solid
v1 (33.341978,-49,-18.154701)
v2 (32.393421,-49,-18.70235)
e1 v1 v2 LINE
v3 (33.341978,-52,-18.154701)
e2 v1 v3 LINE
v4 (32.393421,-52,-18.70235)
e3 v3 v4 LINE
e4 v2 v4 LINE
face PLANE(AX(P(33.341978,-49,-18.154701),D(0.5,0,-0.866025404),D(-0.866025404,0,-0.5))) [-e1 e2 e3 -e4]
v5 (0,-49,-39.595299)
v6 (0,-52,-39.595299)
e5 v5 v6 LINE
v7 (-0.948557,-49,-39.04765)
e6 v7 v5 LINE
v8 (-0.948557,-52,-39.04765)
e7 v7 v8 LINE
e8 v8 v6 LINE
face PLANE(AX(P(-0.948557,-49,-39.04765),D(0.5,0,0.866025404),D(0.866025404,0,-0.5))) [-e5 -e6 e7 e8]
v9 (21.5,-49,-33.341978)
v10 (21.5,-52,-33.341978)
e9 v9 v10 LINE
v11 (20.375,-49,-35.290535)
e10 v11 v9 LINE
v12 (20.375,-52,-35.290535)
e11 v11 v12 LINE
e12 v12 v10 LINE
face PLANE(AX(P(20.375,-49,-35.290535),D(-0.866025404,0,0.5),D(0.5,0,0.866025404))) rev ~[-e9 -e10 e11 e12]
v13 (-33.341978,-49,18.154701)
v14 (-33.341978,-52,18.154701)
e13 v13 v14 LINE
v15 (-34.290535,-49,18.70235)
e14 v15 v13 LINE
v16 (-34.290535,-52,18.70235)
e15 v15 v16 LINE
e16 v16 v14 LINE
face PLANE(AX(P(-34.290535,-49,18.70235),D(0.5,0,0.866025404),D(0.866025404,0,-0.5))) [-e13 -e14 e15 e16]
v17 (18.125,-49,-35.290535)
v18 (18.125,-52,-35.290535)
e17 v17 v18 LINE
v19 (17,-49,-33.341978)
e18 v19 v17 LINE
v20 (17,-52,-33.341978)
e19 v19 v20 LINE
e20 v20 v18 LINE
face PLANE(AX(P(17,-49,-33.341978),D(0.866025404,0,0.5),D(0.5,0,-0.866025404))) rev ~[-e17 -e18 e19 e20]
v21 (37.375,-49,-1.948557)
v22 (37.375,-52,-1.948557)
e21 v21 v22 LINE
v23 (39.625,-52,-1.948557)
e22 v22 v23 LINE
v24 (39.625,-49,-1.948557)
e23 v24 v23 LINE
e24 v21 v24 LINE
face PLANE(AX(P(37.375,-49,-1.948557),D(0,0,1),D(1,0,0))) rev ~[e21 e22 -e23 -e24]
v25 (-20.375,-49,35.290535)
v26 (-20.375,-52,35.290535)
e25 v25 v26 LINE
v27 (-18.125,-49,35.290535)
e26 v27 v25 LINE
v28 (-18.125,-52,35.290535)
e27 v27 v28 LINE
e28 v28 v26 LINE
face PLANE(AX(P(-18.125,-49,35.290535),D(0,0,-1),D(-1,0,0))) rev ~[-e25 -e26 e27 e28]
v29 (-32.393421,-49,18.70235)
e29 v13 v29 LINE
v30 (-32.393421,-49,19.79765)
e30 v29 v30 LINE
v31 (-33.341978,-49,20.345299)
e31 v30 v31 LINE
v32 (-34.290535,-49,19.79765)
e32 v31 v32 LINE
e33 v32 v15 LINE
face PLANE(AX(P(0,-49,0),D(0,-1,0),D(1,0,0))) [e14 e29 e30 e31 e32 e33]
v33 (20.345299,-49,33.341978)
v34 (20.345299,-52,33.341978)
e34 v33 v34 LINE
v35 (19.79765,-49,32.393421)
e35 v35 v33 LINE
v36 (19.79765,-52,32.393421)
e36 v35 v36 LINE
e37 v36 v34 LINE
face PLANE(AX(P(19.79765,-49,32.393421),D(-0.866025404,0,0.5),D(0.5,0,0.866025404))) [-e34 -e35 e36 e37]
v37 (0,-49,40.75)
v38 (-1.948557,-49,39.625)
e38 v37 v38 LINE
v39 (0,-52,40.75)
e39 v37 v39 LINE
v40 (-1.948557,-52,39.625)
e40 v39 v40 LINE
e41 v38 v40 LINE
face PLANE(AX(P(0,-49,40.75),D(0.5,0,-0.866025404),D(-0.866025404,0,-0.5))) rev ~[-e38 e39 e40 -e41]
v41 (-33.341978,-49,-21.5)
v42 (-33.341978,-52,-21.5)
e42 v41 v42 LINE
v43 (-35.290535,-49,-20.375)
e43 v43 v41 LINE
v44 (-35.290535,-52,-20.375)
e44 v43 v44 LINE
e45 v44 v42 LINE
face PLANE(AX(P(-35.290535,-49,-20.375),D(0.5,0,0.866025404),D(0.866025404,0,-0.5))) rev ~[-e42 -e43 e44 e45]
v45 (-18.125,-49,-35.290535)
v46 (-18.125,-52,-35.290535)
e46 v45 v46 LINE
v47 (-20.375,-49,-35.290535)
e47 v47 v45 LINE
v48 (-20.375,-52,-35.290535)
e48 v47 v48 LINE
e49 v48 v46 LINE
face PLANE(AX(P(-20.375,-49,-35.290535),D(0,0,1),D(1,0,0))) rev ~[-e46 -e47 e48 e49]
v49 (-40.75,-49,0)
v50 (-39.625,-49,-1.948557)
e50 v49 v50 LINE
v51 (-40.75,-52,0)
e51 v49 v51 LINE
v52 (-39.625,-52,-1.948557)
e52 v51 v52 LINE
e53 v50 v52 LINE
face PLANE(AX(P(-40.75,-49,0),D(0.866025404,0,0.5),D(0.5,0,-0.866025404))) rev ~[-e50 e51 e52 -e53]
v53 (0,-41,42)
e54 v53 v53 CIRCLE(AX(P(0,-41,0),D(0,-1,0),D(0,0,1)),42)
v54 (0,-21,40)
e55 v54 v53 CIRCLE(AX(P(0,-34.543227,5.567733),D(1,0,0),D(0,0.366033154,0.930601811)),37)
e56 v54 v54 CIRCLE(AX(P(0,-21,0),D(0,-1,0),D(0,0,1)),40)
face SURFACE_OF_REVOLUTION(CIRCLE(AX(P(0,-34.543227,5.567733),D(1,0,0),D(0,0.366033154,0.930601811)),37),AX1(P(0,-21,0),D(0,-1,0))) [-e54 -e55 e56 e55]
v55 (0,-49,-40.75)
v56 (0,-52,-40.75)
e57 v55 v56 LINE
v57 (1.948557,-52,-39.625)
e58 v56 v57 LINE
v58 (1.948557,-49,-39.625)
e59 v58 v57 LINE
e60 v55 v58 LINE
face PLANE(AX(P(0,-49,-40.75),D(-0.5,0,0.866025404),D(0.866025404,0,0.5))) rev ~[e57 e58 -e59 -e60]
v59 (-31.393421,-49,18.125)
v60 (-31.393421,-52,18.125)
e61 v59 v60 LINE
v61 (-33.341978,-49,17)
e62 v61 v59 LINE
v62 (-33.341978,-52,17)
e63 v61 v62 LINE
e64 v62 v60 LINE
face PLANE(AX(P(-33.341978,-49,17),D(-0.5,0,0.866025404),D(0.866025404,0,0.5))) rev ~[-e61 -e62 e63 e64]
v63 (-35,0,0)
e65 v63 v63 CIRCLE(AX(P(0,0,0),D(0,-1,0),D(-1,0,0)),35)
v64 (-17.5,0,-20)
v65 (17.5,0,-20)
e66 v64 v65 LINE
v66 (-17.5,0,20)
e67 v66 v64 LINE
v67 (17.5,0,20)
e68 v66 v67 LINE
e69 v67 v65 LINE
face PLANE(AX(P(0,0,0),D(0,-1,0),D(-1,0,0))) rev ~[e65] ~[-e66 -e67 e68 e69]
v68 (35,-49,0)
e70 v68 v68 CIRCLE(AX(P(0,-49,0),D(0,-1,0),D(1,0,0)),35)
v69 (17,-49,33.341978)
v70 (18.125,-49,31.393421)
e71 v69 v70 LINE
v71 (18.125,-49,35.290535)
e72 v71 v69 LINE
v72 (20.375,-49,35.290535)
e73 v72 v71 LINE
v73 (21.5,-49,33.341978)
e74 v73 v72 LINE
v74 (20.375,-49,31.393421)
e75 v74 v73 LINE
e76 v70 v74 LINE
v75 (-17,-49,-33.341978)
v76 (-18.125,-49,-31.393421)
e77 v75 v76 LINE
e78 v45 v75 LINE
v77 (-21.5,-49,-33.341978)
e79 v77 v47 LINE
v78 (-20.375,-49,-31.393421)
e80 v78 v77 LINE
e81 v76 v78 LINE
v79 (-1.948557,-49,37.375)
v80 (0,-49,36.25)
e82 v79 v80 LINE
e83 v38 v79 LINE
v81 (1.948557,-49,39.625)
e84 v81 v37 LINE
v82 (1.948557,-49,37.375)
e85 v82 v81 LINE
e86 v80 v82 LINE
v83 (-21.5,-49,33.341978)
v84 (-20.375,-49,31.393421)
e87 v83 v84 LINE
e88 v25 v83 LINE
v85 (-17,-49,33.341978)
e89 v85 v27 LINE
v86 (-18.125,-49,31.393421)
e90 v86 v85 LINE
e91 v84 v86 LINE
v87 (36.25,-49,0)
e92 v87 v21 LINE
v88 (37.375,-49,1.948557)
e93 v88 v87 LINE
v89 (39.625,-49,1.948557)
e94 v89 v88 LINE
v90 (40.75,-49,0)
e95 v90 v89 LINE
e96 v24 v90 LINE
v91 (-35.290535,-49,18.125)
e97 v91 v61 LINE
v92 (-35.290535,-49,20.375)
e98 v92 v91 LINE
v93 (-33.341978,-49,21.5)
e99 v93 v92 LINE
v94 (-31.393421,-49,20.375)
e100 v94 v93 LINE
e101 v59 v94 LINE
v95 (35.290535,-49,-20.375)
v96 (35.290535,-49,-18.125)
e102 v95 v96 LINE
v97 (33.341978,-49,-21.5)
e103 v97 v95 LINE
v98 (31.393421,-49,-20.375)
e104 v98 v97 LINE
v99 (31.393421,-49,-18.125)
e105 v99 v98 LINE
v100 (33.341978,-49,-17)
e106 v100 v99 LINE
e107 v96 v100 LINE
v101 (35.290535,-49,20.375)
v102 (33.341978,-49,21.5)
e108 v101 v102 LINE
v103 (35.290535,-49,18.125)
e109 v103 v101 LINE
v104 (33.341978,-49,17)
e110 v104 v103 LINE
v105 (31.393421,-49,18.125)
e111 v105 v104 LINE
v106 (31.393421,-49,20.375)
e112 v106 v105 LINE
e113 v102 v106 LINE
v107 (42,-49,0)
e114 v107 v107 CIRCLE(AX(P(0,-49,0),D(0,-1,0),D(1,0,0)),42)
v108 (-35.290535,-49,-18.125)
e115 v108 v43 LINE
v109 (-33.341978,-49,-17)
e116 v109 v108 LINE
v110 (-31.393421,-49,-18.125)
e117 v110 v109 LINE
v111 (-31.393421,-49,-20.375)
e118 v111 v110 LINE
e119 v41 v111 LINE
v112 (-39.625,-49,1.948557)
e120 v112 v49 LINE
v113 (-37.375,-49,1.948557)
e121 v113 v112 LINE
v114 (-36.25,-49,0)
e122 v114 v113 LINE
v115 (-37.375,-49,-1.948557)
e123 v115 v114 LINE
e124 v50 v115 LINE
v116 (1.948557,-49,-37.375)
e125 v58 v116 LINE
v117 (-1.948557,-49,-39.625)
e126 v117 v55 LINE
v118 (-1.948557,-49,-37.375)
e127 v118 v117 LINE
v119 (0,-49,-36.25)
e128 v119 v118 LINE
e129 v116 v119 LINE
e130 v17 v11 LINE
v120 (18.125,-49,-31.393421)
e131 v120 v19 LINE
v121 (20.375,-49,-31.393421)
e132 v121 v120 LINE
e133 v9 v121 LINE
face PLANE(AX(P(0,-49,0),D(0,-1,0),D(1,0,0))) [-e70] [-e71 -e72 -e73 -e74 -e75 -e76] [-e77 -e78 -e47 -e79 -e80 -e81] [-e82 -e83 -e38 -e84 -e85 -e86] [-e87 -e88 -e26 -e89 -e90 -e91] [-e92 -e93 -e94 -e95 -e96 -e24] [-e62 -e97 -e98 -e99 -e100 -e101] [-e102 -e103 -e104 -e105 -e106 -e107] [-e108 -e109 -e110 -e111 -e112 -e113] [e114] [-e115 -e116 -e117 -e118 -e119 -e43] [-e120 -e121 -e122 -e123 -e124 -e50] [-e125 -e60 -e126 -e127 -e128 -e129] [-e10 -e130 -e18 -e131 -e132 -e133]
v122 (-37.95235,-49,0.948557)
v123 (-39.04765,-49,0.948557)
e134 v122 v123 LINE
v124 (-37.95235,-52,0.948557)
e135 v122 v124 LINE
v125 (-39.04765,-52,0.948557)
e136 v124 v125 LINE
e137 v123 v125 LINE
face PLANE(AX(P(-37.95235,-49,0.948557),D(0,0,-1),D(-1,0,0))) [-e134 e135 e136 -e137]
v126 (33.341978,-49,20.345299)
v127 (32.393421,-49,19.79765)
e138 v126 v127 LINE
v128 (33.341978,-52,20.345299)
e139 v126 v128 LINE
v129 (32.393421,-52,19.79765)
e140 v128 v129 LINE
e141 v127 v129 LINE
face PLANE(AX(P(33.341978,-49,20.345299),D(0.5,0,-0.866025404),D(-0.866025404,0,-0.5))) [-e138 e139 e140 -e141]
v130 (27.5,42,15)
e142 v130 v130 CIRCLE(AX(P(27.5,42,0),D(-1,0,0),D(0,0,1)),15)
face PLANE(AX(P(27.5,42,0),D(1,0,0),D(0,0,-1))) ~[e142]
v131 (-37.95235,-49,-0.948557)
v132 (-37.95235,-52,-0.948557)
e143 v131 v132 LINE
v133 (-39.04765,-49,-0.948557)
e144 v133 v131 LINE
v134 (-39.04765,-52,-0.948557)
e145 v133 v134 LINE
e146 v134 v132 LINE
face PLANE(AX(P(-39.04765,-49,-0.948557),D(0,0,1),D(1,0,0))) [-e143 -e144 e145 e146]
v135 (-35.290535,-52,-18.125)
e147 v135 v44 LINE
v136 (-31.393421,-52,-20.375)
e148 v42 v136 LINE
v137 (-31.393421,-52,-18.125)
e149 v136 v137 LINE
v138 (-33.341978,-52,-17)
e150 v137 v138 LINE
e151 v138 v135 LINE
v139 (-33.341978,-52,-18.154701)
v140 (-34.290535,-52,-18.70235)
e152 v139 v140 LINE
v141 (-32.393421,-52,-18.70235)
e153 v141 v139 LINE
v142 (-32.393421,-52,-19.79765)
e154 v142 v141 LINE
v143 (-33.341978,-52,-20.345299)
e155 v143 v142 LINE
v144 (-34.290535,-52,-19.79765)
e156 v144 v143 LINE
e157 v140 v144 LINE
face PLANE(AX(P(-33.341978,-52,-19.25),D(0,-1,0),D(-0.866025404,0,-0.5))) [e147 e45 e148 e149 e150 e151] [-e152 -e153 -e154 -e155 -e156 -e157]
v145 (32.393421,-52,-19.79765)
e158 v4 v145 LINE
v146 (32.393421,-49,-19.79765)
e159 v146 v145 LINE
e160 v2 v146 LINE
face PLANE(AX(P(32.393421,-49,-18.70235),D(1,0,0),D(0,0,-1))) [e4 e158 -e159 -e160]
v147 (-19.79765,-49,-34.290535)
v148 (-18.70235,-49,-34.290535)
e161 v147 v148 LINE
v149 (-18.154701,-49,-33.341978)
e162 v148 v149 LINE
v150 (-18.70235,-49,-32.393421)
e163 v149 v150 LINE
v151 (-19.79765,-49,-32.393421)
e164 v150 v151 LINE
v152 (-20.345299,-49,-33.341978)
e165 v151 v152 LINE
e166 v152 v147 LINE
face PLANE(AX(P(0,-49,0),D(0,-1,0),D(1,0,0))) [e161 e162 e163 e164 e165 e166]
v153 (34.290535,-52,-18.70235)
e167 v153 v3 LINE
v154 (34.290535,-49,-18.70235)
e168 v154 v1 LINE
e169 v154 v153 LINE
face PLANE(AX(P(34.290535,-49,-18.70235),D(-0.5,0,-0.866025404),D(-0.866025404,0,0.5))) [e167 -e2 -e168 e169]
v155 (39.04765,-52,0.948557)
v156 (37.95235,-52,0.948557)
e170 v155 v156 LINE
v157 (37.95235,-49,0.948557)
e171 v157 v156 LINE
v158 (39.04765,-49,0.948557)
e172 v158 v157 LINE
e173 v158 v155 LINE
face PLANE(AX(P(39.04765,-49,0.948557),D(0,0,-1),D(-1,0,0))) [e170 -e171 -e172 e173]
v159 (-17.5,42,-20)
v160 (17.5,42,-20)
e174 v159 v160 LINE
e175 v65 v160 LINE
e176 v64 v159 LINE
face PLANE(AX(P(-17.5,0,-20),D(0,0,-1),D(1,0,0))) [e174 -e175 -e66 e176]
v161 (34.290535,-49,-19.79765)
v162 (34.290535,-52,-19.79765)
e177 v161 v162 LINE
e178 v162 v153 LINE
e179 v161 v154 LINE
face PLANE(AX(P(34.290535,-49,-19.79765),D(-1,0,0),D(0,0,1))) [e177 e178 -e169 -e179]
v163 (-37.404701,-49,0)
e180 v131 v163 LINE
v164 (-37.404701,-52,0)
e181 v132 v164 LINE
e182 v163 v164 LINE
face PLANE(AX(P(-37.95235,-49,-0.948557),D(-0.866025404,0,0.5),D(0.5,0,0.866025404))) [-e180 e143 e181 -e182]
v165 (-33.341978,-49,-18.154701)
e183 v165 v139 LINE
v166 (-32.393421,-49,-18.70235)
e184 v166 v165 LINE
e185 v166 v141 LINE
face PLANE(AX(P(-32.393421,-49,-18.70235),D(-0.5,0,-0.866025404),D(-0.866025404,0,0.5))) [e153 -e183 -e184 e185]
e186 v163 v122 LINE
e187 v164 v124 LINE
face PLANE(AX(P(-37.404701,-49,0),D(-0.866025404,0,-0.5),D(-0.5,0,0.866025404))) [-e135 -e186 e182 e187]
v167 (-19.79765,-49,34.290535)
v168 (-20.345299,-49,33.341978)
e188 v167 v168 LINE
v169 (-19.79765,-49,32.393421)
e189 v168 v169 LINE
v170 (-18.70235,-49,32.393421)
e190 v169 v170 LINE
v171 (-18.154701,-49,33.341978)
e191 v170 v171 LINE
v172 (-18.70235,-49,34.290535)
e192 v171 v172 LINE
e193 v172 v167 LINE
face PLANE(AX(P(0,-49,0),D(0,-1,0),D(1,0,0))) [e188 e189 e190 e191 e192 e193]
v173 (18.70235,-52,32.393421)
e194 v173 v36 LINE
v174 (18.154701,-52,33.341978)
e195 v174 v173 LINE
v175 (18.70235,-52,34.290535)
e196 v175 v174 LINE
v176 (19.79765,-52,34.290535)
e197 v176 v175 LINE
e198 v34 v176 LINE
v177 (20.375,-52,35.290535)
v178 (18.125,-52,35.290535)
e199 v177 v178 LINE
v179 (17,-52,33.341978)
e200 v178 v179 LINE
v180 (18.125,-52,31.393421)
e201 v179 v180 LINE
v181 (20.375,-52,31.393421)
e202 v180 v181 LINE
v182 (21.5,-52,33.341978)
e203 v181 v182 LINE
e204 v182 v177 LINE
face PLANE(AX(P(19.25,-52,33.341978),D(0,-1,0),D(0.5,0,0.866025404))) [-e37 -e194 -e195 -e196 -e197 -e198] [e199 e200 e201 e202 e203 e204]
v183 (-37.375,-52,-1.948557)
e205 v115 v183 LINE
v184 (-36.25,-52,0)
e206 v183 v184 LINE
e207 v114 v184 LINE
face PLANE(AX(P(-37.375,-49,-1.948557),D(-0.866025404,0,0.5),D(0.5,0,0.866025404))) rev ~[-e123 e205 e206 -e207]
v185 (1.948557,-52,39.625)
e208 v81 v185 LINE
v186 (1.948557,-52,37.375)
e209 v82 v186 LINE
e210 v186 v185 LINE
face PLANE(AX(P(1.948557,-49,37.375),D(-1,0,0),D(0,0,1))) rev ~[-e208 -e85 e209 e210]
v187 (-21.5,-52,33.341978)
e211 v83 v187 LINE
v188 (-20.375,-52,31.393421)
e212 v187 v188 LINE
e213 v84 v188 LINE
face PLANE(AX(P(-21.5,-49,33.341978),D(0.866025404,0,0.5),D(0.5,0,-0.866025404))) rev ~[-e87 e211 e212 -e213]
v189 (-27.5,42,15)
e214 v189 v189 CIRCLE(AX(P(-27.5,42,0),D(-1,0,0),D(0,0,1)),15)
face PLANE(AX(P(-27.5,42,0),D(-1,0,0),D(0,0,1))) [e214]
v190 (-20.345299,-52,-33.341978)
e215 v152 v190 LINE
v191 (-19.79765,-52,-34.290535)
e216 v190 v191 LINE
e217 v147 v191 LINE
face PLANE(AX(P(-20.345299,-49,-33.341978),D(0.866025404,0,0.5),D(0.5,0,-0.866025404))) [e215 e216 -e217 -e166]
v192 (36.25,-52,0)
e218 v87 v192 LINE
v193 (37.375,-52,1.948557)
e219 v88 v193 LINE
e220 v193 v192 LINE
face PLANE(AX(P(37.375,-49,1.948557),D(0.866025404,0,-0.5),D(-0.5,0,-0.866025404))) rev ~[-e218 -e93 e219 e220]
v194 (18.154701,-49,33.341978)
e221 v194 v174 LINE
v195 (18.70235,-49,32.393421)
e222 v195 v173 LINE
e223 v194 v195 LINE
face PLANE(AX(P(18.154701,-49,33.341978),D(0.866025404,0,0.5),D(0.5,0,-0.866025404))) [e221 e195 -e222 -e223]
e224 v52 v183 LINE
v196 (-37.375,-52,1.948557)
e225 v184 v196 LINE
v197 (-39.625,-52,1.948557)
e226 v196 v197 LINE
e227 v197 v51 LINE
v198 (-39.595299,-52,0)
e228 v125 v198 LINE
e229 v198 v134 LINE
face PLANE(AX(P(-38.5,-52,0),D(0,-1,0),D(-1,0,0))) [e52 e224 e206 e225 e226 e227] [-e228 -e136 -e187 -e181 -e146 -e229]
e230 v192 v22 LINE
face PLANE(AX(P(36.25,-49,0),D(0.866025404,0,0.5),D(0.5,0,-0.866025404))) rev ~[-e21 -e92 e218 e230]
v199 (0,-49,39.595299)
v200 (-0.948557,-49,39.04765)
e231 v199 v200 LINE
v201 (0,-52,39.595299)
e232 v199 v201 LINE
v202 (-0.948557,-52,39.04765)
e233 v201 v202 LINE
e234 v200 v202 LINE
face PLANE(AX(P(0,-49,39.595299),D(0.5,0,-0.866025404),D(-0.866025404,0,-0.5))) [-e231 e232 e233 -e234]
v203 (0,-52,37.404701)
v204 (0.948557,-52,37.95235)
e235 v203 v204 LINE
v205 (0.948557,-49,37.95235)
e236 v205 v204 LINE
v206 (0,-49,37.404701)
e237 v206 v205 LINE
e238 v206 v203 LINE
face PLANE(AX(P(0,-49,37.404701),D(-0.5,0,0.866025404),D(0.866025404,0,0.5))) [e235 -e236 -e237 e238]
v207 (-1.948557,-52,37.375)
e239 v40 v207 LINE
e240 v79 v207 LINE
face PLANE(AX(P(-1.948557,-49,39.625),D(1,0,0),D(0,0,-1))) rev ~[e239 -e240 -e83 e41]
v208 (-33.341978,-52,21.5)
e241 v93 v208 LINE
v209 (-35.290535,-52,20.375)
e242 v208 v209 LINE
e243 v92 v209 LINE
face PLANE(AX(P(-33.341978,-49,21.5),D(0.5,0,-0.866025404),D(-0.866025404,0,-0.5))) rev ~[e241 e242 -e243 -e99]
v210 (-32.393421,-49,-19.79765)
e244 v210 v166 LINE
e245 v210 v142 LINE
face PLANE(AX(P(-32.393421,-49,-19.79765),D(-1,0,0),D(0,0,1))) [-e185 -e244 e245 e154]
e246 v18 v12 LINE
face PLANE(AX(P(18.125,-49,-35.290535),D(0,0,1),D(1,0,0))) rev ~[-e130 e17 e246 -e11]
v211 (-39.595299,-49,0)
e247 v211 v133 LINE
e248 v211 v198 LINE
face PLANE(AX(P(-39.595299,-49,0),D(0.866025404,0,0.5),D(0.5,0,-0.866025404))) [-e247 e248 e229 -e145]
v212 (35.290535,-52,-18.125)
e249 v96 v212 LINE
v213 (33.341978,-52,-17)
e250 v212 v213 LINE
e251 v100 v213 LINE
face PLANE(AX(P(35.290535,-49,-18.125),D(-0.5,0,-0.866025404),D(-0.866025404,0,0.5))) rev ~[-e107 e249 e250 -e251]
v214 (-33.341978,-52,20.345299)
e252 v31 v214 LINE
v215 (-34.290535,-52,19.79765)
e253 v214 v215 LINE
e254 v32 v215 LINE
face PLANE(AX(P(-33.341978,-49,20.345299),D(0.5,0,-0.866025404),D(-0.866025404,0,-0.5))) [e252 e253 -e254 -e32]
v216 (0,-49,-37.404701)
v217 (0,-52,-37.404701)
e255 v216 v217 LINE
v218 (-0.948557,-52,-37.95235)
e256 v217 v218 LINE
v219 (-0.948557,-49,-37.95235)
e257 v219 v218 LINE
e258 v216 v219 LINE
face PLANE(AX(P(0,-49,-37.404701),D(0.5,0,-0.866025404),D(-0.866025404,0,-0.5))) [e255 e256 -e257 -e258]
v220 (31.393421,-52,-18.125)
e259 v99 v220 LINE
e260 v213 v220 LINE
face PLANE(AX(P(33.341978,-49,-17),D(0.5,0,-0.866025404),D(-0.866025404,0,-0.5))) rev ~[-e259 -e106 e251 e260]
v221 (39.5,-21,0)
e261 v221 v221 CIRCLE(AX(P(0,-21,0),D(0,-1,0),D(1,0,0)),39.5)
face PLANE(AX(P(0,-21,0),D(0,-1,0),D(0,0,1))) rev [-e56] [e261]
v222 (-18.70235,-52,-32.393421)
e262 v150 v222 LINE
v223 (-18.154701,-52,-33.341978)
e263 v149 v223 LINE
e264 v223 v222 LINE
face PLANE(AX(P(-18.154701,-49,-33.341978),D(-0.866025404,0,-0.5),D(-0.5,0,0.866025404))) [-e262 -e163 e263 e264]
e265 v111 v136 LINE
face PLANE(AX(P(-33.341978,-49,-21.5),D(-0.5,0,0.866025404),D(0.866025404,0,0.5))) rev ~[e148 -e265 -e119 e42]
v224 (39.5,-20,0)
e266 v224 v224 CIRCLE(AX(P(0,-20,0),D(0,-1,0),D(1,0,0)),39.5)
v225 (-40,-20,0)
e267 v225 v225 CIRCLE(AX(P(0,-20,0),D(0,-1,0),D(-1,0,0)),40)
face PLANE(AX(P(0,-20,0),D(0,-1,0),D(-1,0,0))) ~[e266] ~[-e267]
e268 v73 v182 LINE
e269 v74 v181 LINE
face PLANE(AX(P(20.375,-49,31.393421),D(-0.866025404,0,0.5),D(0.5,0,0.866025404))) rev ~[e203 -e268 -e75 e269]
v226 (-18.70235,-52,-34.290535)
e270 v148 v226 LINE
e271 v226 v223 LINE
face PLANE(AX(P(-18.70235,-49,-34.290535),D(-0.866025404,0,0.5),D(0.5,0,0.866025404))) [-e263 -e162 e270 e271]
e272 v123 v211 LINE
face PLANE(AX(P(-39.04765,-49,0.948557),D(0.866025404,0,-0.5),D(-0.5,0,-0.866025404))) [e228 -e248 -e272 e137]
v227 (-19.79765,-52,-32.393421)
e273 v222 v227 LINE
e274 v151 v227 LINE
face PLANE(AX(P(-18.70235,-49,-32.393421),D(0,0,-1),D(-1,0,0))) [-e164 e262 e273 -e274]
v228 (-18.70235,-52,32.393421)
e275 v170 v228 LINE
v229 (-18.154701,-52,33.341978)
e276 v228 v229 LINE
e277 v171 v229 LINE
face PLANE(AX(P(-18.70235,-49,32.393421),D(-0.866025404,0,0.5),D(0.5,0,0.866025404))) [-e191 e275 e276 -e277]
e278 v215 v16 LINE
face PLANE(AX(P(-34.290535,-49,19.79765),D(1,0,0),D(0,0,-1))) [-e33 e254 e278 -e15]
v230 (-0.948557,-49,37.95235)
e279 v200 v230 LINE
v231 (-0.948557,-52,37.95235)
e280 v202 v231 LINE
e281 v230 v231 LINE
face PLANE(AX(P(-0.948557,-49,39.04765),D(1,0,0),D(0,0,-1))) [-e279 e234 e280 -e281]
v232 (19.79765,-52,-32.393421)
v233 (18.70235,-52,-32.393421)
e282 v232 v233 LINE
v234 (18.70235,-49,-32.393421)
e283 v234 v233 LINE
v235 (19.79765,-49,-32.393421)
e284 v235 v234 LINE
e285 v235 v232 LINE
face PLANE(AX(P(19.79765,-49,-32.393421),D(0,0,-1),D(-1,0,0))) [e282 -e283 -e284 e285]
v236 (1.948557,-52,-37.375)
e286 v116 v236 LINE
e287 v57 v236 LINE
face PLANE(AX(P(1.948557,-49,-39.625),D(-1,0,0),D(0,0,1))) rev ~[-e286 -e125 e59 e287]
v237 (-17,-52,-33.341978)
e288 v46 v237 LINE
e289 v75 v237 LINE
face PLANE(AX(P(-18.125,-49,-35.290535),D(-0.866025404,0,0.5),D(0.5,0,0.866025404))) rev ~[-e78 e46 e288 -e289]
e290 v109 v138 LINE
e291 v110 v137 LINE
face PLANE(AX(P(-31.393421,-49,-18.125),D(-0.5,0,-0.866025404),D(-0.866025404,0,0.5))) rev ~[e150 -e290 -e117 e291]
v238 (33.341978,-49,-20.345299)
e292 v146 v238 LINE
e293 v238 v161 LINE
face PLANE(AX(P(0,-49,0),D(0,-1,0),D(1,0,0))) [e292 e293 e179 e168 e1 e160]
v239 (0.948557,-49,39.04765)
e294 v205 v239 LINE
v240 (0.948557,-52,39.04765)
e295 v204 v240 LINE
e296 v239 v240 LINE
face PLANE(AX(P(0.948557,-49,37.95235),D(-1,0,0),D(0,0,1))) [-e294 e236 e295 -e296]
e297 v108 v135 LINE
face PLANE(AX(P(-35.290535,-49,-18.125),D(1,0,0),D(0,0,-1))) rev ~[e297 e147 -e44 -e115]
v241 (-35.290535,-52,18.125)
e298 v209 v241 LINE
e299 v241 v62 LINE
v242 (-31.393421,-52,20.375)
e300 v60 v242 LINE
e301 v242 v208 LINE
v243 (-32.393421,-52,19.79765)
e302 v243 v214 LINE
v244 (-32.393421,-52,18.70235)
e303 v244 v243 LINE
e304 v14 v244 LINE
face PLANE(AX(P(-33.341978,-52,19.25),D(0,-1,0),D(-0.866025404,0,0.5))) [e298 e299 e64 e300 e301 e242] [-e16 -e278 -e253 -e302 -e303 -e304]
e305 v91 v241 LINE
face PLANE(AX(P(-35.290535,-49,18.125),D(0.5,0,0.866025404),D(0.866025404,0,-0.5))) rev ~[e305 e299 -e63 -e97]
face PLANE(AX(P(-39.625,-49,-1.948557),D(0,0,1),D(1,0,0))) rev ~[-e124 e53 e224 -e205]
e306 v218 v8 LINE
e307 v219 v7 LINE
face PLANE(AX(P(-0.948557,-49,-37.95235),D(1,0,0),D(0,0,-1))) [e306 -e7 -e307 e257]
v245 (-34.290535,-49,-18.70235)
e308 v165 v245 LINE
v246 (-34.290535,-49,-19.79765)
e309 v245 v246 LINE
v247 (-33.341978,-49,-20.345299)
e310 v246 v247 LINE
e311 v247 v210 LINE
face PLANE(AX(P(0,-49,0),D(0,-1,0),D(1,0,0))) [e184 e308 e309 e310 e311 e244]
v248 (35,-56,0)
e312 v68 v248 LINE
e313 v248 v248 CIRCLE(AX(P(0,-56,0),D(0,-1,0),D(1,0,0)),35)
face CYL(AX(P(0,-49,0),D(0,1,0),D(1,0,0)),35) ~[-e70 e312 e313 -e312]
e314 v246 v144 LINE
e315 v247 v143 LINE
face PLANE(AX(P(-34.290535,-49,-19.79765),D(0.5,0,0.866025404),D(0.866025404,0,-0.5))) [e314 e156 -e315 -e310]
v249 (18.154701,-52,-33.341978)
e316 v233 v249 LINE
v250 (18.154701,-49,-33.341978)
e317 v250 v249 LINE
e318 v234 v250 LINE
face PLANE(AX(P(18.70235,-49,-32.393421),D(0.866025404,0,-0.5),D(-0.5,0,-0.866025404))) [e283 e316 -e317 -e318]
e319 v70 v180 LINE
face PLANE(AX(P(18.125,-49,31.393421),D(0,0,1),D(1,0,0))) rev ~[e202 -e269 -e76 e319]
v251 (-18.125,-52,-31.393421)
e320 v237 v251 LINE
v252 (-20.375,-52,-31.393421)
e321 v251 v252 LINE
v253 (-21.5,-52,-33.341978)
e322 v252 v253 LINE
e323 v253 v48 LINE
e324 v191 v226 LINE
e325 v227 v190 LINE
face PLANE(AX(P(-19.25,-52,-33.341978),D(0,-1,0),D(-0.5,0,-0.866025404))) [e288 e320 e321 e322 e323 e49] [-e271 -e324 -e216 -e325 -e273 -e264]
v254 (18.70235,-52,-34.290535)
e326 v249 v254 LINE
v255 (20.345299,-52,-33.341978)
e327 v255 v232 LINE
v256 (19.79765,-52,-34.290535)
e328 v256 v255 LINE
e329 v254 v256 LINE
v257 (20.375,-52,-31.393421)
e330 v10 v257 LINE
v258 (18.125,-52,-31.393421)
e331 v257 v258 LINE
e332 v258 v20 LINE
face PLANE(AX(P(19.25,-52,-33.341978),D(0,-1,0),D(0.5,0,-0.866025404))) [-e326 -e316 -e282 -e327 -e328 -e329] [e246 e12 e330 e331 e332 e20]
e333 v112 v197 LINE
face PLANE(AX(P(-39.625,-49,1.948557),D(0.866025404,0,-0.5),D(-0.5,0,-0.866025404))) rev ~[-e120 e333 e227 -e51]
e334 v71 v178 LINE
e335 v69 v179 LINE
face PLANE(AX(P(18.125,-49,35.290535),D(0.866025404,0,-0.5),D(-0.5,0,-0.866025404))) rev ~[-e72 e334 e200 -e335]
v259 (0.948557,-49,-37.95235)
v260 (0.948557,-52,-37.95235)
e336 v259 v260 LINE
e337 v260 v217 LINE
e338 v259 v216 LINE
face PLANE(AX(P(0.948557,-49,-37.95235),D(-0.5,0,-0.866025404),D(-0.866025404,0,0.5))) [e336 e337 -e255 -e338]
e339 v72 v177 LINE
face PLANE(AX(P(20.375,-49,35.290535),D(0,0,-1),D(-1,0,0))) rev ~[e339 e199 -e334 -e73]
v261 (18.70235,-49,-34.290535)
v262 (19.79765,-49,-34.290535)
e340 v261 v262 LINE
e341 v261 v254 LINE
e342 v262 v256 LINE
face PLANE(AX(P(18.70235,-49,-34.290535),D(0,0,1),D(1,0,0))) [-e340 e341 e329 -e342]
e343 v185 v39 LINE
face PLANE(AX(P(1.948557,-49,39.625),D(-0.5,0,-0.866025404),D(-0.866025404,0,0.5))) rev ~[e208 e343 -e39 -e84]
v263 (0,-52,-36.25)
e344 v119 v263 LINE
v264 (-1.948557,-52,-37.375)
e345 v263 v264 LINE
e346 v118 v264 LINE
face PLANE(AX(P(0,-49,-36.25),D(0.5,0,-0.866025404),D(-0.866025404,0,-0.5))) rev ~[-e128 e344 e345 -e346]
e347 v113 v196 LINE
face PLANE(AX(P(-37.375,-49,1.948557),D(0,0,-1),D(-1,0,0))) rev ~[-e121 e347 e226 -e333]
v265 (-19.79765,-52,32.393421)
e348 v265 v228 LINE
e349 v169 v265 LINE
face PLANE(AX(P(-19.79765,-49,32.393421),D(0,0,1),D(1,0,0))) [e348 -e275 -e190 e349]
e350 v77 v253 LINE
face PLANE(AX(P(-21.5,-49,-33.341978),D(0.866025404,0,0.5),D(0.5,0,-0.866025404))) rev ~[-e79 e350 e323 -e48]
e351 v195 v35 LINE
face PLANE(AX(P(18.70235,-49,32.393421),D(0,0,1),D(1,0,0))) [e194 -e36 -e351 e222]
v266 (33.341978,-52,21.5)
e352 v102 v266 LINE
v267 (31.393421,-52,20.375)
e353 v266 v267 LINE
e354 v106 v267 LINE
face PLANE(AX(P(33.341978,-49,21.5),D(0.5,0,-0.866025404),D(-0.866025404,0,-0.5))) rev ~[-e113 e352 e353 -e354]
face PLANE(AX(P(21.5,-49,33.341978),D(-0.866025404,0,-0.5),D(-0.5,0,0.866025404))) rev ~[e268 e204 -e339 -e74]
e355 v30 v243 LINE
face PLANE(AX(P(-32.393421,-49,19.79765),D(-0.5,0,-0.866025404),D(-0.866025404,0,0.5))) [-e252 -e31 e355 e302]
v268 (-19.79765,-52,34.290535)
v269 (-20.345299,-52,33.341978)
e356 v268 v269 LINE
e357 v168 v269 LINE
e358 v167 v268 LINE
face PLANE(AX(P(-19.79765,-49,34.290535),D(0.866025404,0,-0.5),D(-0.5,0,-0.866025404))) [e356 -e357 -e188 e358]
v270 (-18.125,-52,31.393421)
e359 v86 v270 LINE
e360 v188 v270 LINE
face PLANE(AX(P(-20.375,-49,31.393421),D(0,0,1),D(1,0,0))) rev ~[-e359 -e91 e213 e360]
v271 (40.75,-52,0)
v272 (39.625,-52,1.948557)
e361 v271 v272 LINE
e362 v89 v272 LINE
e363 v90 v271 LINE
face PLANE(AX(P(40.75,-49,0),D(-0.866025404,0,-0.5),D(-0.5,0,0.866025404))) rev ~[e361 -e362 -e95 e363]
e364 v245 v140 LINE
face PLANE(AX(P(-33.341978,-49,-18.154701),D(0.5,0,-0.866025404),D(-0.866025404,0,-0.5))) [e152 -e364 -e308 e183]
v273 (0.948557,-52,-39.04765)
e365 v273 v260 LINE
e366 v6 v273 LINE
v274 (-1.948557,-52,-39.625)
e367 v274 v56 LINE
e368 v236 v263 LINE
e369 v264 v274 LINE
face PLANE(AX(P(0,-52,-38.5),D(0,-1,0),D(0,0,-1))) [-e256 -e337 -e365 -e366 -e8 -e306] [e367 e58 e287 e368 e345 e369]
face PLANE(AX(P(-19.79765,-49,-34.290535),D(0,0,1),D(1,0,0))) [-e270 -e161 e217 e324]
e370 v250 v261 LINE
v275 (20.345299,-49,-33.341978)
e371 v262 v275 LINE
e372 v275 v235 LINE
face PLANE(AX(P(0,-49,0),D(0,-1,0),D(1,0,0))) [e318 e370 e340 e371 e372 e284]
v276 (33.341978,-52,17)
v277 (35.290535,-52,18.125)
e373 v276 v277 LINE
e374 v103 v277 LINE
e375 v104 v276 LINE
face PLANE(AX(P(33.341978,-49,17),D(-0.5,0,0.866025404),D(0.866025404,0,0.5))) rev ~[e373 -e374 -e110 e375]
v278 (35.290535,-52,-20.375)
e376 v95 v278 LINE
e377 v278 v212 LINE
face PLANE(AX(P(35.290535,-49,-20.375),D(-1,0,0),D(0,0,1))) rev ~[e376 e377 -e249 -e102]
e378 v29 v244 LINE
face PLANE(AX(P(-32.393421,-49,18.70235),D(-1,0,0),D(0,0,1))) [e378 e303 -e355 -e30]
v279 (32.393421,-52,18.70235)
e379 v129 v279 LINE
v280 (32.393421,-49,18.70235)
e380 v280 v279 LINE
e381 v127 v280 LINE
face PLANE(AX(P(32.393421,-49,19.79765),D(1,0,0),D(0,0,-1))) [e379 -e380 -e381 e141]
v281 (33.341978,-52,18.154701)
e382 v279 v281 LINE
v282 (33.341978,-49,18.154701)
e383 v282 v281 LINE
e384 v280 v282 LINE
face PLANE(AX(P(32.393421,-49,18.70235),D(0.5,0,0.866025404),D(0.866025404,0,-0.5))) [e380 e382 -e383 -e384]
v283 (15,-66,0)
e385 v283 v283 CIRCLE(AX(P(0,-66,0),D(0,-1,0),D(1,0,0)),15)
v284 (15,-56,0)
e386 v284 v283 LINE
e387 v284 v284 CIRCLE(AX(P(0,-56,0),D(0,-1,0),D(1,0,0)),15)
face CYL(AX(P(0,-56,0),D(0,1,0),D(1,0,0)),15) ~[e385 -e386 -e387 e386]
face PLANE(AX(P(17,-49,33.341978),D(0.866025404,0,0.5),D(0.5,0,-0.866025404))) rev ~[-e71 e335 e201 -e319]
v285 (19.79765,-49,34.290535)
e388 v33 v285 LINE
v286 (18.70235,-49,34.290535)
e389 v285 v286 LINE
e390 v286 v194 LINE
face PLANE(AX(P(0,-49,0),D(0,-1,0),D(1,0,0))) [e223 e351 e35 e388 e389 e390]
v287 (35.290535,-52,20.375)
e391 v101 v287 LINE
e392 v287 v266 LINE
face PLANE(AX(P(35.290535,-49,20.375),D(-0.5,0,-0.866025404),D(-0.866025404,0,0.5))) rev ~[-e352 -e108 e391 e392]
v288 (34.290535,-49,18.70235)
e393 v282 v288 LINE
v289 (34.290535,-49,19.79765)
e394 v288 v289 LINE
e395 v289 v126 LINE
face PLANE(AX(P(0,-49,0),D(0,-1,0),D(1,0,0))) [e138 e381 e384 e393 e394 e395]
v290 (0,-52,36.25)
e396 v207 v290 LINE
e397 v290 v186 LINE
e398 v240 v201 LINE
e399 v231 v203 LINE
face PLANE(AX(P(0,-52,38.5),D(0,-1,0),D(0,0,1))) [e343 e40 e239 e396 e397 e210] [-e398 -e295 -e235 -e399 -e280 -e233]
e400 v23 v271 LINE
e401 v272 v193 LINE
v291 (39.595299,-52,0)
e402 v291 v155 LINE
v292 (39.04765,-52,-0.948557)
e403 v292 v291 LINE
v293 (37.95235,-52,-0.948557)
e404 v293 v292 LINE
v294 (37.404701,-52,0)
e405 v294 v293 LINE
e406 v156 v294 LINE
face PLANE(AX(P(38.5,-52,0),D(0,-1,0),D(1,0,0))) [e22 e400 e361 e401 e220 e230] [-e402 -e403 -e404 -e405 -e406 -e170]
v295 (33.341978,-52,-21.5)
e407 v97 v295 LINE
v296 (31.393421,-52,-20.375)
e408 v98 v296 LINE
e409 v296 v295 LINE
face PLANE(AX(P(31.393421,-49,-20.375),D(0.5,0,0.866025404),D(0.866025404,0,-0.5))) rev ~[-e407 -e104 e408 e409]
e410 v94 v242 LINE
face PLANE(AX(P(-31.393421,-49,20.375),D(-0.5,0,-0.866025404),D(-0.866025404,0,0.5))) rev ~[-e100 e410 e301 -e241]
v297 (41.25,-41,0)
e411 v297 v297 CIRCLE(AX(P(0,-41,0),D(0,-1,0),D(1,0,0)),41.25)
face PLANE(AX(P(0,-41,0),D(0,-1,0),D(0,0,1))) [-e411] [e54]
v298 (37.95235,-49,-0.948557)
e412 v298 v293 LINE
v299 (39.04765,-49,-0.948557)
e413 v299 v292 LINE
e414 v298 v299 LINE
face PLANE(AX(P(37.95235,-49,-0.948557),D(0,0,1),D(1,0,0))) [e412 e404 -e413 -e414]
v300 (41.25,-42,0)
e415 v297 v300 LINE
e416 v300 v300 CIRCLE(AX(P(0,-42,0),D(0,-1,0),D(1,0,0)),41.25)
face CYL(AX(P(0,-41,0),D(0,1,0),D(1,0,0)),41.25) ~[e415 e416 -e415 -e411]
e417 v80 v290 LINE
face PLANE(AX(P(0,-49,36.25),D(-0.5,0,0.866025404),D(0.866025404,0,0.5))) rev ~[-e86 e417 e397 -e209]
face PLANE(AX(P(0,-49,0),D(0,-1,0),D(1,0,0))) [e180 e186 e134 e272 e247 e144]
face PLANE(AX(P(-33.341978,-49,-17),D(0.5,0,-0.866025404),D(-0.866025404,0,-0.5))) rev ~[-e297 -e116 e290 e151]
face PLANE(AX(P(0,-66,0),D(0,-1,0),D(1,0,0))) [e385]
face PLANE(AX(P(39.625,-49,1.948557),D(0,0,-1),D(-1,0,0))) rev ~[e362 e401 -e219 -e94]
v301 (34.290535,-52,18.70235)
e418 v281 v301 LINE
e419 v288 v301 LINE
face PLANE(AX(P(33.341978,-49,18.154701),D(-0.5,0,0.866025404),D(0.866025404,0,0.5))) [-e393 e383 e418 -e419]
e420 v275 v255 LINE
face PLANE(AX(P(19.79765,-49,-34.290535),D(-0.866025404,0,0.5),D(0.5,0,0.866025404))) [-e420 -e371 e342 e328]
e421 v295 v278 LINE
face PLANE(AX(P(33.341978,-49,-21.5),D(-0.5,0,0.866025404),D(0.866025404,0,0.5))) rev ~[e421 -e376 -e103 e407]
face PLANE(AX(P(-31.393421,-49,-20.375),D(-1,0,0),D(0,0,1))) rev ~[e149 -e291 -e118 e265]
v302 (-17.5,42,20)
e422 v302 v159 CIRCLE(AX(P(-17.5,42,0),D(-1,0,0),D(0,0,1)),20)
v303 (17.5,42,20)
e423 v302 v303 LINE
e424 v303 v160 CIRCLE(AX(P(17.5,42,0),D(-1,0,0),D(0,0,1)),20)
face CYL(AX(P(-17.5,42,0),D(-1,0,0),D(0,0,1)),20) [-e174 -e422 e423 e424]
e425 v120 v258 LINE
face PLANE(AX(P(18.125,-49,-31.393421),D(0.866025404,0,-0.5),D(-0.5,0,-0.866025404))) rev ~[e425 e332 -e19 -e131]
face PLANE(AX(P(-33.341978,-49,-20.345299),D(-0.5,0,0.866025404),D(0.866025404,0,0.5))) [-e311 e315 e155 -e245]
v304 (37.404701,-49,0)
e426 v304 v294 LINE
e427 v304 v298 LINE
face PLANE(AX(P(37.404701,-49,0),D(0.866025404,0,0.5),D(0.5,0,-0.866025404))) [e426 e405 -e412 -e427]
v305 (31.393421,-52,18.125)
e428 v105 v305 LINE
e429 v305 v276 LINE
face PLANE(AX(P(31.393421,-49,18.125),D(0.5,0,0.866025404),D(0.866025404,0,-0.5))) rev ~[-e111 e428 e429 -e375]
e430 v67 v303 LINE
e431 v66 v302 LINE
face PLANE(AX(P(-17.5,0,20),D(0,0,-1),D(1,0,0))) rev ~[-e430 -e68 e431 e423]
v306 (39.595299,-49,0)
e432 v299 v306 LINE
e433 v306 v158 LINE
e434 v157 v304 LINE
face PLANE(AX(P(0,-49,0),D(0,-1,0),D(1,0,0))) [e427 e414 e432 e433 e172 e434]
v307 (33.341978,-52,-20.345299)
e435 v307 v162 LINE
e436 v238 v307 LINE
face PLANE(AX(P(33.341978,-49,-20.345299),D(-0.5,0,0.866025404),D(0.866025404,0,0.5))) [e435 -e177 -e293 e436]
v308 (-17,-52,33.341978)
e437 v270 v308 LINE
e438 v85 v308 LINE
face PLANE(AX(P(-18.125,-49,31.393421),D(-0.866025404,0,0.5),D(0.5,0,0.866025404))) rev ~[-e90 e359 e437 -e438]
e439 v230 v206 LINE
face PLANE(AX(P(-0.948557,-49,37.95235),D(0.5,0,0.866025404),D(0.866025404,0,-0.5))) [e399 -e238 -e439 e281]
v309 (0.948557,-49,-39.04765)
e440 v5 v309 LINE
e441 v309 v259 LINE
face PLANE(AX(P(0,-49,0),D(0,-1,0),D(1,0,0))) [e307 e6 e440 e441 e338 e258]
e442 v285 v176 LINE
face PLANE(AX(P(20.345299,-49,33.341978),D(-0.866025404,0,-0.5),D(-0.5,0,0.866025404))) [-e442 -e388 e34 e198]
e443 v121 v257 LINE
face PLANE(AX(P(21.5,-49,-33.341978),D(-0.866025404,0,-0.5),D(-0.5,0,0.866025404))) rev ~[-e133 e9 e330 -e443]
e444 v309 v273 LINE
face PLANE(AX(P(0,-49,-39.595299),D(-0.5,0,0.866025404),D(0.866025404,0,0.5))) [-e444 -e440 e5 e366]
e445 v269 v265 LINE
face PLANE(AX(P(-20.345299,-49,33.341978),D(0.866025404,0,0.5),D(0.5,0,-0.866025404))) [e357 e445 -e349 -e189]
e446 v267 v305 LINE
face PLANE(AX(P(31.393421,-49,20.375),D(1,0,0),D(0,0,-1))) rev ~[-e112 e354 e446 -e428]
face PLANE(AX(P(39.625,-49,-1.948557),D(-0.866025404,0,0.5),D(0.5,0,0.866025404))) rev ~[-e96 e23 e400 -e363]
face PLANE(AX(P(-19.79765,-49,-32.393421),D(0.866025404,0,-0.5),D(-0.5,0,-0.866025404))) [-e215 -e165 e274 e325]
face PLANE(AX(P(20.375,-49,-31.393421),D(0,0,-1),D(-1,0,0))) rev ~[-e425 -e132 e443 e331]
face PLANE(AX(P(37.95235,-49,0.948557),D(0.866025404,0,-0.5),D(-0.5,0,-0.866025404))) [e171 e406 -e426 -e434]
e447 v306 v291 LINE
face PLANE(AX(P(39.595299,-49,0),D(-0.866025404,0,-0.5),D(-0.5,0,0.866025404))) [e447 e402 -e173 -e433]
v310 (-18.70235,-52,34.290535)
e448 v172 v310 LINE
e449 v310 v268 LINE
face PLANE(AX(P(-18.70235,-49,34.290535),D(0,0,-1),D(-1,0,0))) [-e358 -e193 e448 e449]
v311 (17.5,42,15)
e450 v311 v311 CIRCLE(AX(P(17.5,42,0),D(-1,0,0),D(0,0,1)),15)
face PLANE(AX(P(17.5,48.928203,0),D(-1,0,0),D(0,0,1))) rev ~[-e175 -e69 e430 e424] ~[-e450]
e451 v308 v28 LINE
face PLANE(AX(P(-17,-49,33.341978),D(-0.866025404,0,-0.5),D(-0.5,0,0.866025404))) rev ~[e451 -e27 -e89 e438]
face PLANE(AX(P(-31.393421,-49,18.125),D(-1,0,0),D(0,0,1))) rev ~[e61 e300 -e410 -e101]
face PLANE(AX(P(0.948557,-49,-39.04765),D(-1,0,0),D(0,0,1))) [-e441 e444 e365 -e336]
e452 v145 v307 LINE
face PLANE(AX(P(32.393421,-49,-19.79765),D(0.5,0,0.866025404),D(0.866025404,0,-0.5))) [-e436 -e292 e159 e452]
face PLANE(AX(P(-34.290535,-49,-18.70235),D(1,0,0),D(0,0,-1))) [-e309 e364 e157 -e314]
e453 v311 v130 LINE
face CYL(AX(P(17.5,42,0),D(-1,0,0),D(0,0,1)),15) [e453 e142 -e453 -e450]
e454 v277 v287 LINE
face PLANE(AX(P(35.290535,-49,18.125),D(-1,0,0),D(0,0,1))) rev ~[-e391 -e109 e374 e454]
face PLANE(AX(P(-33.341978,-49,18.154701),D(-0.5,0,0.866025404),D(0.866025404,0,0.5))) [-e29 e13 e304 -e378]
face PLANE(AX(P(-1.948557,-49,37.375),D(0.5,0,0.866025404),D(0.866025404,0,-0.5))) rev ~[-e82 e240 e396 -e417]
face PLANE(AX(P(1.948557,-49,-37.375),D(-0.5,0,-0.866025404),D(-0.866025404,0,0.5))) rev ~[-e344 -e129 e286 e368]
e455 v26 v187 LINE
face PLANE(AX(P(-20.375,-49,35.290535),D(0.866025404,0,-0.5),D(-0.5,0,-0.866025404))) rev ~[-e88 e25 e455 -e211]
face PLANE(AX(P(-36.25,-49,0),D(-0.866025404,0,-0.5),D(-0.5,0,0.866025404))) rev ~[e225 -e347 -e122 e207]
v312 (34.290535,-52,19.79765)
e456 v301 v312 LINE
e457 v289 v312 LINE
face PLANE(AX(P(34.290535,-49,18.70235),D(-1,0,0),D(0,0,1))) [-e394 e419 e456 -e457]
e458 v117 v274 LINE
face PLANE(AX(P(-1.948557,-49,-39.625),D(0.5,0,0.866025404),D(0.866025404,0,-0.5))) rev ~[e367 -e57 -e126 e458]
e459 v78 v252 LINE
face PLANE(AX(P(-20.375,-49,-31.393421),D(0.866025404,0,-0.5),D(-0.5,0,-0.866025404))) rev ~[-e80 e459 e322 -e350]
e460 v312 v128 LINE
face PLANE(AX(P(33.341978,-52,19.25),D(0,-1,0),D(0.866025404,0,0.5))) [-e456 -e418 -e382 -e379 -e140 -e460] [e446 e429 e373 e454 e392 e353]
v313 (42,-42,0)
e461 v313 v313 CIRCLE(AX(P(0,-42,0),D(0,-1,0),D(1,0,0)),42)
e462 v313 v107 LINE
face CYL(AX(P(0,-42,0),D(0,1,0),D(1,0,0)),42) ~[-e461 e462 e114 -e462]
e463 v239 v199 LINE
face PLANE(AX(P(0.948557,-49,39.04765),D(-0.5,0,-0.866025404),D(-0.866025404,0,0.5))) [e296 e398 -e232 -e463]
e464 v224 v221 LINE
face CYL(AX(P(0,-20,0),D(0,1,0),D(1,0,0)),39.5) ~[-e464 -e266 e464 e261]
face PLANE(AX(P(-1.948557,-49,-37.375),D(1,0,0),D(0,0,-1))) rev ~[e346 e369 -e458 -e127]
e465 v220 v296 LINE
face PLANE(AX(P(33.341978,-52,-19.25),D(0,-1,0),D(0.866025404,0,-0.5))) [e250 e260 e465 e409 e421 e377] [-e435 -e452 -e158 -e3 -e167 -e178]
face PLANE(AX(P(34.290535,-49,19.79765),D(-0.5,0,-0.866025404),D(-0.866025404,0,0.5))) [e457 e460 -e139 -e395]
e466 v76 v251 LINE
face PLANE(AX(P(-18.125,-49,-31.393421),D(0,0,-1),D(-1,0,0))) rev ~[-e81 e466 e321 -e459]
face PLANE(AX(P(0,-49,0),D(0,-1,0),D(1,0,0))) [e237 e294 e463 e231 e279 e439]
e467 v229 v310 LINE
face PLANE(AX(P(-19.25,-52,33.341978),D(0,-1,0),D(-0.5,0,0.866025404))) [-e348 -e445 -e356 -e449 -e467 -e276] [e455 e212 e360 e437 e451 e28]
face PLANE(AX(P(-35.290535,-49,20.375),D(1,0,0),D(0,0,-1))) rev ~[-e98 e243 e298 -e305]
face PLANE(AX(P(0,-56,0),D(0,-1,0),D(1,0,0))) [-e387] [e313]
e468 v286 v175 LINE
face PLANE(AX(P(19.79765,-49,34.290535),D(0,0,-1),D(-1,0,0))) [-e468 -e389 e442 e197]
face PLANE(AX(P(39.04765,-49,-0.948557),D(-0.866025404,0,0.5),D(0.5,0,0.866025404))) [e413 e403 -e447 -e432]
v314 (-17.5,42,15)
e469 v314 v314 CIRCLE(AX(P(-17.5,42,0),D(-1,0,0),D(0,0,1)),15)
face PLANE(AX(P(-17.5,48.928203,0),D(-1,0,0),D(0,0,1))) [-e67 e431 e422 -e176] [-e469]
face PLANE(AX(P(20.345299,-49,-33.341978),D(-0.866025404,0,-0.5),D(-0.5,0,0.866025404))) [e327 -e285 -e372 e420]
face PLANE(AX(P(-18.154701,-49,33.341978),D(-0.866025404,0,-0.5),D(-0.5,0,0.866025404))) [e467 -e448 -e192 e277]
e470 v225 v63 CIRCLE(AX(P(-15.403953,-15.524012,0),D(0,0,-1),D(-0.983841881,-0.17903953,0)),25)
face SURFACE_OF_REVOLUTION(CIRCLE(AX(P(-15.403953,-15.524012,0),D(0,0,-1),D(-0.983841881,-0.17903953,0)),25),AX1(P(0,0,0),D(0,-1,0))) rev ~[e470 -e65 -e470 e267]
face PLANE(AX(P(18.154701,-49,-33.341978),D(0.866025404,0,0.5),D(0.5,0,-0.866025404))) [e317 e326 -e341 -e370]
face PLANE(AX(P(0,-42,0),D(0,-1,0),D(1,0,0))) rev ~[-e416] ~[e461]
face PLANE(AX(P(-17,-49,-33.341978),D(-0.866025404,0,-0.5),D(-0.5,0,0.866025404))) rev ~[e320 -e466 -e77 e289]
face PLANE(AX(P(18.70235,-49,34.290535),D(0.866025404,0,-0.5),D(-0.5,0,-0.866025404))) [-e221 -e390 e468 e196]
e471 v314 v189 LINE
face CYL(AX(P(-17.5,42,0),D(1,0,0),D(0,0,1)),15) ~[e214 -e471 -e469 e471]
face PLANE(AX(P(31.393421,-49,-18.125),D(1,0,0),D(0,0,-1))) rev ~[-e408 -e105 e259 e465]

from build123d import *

# Parameters (mm, degrees)
SKETCH2_R           = 39.5
BOSS_EXTRUDE1_DEPTH = 1
SKETCH4_R           = 41.25
BOSS_EXTRUDE2_DEPTH = 1
SKETCH5_R           = 42
BOSS_EXTRUDE3_DEPTH = 7
SKETCH6_R           = 35
BOSS_EXTRUDE4_DEPTH = 7
BOSS_EXTRUDE5_DEPTH = 3
CIRPATTERN1_COUNT   = 12
SKETCH8_R           = 15
BOSS_EXTRUDE6_DEPTH = 10
SKETCH9_W           = 35
SKETCH9_H           = 40
BOSS_EXTRUDE7_DEPTH = 42
BOSS_EXTRUDE8_DEPTH = 35
SKETCH11_R          = 15
BOSS_EXTRUDE9_DEPTH = 10


with BuildPart() as part:
    # Sketch1 → Revolve1 (revolve)
    with BuildSketch(Plane.XY):
        with BuildLine():
            Line((-35, 0), (0, 0))
            Line((0, 0), (0, -20))
            Line((0, -20), (-40, -20))
            ThreePointArc((-40, -20), (-39.657515479, -9.46062113), (-35, 0))
        make_face()
    revolve(axis=Axis((0, 0, 0), (0, -1, 0)))

    # Sketch2 → Boss-Extrude1 (add)
    with BuildSketch(Plane.XZ.offset(20)):
        Circle(SKETCH2_R)
    extrude(amount=BOSS_EXTRUDE1_DEPTH)

    # Sketch3 → Revolve2 (revolve)
    with BuildSketch(Plane(origin=(0, 0, 0), x_dir=(0, 0, -1), z_dir=(1, 0, 0))):
        with BuildLine():
            Line((0, -21), (-40, -21))
            ThreePointArc((-40, -21), (-42.384109041, -30.861589096), (-42, -41))
            Line((-42, -41), (0, -41))
            Line((0, -41), (0, -21))
        make_face()
    revolve(axis=Axis((0, -21, 0), (0, -1, 0)))

    # Sketch4 → Boss-Extrude2 (add)
    with BuildSketch(Plane.XZ.offset(41)):
        Circle(SKETCH4_R)
    extrude(amount=BOSS_EXTRUDE2_DEPTH)

    # Sketch5 → Boss-Extrude3 (add)
    with BuildSketch(Plane.XZ.offset(42)):
        Circle(SKETCH5_R)
    extrude(amount=BOSS_EXTRUDE3_DEPTH)

    # Sketch6 → Boss-Extrude4 (add)
    with BuildSketch(Plane.XZ.offset(49)):
        Circle(SKETCH6_R)
    extrude(amount=BOSS_EXTRUDE4_DEPTH)

    # Sketch7 → Boss-Extrude5 (add)
    with BuildSketch(Plane.XZ.offset(49)):
        Polygon((40.75, 0), (39.625, 1.948557159), (37.375, 1.948557159), (36.25, 0), (37.375, -1.948557159), (39.625, -1.948557159), align=None)
        Polygon((39.047649731, 0.948557159), (37.952350269, 0.948557159), (37.404700538, 0), (37.952350269, -0.948557159), (39.047649731, -0.948557159), (39.595299462, 0), align=None, mode=Mode.SUBTRACT)
    boss_extrude5 = extrude(amount=BOSS_EXTRUDE5_DEPTH)

    # CirPattern1: Boss-Extrude5 ×12 about axis
    cirpattern1_axis = Axis((0, 0, 0), (0, 1, 0))
    for i in range(1, CIRPATTERN1_COUNT):
        add(boss_extrude5.rotate(cirpattern1_axis, i * 360 / CIRPATTERN1_COUNT))

    # Sketch8 → Boss-Extrude6 (add)
    with BuildSketch(Plane.XZ.offset(56)):
        Circle(SKETCH8_R)
    extrude(amount=BOSS_EXTRUDE6_DEPTH)

    # Sketch9 → Boss-Extrude7 (add)
    with BuildSketch(Plane(origin=(0, 0, 0), x_dir=(1, 0, 0), z_dir=(0, 1, 0))):
        Rectangle(SKETCH9_W, SKETCH9_H)
    extrude(amount=BOSS_EXTRUDE7_DEPTH)

    # Sketch10 → Boss-Extrude8 (add)
    with BuildSketch(Plane.ZY.offset(17.5)):
        with BuildLine():
            Line((-20, 42), (20, 42))
            ThreePointArc((20, 42), (0, 62), (-20, 42))
        make_face()
    extrude(amount=-BOSS_EXTRUDE8_DEPTH)

    # Sketch11 → Boss-Extrude9 (add)
    with BuildSketch(Plane.ZY.offset(17.5)):
        with Locations((0, 42)):
            Circle(SKETCH11_R)
    boss_extrude9 = extrude(amount=BOSS_EXTRUDE9_DEPTH)

    # Mirror1: Boss-Extrude9 across plane
    add(boss_extrude9.mirror(Plane(origin=(0, 0, 0), x_dir=(0, 0, 1), z_dir=(1, 0, 0))))


solid = part.part
